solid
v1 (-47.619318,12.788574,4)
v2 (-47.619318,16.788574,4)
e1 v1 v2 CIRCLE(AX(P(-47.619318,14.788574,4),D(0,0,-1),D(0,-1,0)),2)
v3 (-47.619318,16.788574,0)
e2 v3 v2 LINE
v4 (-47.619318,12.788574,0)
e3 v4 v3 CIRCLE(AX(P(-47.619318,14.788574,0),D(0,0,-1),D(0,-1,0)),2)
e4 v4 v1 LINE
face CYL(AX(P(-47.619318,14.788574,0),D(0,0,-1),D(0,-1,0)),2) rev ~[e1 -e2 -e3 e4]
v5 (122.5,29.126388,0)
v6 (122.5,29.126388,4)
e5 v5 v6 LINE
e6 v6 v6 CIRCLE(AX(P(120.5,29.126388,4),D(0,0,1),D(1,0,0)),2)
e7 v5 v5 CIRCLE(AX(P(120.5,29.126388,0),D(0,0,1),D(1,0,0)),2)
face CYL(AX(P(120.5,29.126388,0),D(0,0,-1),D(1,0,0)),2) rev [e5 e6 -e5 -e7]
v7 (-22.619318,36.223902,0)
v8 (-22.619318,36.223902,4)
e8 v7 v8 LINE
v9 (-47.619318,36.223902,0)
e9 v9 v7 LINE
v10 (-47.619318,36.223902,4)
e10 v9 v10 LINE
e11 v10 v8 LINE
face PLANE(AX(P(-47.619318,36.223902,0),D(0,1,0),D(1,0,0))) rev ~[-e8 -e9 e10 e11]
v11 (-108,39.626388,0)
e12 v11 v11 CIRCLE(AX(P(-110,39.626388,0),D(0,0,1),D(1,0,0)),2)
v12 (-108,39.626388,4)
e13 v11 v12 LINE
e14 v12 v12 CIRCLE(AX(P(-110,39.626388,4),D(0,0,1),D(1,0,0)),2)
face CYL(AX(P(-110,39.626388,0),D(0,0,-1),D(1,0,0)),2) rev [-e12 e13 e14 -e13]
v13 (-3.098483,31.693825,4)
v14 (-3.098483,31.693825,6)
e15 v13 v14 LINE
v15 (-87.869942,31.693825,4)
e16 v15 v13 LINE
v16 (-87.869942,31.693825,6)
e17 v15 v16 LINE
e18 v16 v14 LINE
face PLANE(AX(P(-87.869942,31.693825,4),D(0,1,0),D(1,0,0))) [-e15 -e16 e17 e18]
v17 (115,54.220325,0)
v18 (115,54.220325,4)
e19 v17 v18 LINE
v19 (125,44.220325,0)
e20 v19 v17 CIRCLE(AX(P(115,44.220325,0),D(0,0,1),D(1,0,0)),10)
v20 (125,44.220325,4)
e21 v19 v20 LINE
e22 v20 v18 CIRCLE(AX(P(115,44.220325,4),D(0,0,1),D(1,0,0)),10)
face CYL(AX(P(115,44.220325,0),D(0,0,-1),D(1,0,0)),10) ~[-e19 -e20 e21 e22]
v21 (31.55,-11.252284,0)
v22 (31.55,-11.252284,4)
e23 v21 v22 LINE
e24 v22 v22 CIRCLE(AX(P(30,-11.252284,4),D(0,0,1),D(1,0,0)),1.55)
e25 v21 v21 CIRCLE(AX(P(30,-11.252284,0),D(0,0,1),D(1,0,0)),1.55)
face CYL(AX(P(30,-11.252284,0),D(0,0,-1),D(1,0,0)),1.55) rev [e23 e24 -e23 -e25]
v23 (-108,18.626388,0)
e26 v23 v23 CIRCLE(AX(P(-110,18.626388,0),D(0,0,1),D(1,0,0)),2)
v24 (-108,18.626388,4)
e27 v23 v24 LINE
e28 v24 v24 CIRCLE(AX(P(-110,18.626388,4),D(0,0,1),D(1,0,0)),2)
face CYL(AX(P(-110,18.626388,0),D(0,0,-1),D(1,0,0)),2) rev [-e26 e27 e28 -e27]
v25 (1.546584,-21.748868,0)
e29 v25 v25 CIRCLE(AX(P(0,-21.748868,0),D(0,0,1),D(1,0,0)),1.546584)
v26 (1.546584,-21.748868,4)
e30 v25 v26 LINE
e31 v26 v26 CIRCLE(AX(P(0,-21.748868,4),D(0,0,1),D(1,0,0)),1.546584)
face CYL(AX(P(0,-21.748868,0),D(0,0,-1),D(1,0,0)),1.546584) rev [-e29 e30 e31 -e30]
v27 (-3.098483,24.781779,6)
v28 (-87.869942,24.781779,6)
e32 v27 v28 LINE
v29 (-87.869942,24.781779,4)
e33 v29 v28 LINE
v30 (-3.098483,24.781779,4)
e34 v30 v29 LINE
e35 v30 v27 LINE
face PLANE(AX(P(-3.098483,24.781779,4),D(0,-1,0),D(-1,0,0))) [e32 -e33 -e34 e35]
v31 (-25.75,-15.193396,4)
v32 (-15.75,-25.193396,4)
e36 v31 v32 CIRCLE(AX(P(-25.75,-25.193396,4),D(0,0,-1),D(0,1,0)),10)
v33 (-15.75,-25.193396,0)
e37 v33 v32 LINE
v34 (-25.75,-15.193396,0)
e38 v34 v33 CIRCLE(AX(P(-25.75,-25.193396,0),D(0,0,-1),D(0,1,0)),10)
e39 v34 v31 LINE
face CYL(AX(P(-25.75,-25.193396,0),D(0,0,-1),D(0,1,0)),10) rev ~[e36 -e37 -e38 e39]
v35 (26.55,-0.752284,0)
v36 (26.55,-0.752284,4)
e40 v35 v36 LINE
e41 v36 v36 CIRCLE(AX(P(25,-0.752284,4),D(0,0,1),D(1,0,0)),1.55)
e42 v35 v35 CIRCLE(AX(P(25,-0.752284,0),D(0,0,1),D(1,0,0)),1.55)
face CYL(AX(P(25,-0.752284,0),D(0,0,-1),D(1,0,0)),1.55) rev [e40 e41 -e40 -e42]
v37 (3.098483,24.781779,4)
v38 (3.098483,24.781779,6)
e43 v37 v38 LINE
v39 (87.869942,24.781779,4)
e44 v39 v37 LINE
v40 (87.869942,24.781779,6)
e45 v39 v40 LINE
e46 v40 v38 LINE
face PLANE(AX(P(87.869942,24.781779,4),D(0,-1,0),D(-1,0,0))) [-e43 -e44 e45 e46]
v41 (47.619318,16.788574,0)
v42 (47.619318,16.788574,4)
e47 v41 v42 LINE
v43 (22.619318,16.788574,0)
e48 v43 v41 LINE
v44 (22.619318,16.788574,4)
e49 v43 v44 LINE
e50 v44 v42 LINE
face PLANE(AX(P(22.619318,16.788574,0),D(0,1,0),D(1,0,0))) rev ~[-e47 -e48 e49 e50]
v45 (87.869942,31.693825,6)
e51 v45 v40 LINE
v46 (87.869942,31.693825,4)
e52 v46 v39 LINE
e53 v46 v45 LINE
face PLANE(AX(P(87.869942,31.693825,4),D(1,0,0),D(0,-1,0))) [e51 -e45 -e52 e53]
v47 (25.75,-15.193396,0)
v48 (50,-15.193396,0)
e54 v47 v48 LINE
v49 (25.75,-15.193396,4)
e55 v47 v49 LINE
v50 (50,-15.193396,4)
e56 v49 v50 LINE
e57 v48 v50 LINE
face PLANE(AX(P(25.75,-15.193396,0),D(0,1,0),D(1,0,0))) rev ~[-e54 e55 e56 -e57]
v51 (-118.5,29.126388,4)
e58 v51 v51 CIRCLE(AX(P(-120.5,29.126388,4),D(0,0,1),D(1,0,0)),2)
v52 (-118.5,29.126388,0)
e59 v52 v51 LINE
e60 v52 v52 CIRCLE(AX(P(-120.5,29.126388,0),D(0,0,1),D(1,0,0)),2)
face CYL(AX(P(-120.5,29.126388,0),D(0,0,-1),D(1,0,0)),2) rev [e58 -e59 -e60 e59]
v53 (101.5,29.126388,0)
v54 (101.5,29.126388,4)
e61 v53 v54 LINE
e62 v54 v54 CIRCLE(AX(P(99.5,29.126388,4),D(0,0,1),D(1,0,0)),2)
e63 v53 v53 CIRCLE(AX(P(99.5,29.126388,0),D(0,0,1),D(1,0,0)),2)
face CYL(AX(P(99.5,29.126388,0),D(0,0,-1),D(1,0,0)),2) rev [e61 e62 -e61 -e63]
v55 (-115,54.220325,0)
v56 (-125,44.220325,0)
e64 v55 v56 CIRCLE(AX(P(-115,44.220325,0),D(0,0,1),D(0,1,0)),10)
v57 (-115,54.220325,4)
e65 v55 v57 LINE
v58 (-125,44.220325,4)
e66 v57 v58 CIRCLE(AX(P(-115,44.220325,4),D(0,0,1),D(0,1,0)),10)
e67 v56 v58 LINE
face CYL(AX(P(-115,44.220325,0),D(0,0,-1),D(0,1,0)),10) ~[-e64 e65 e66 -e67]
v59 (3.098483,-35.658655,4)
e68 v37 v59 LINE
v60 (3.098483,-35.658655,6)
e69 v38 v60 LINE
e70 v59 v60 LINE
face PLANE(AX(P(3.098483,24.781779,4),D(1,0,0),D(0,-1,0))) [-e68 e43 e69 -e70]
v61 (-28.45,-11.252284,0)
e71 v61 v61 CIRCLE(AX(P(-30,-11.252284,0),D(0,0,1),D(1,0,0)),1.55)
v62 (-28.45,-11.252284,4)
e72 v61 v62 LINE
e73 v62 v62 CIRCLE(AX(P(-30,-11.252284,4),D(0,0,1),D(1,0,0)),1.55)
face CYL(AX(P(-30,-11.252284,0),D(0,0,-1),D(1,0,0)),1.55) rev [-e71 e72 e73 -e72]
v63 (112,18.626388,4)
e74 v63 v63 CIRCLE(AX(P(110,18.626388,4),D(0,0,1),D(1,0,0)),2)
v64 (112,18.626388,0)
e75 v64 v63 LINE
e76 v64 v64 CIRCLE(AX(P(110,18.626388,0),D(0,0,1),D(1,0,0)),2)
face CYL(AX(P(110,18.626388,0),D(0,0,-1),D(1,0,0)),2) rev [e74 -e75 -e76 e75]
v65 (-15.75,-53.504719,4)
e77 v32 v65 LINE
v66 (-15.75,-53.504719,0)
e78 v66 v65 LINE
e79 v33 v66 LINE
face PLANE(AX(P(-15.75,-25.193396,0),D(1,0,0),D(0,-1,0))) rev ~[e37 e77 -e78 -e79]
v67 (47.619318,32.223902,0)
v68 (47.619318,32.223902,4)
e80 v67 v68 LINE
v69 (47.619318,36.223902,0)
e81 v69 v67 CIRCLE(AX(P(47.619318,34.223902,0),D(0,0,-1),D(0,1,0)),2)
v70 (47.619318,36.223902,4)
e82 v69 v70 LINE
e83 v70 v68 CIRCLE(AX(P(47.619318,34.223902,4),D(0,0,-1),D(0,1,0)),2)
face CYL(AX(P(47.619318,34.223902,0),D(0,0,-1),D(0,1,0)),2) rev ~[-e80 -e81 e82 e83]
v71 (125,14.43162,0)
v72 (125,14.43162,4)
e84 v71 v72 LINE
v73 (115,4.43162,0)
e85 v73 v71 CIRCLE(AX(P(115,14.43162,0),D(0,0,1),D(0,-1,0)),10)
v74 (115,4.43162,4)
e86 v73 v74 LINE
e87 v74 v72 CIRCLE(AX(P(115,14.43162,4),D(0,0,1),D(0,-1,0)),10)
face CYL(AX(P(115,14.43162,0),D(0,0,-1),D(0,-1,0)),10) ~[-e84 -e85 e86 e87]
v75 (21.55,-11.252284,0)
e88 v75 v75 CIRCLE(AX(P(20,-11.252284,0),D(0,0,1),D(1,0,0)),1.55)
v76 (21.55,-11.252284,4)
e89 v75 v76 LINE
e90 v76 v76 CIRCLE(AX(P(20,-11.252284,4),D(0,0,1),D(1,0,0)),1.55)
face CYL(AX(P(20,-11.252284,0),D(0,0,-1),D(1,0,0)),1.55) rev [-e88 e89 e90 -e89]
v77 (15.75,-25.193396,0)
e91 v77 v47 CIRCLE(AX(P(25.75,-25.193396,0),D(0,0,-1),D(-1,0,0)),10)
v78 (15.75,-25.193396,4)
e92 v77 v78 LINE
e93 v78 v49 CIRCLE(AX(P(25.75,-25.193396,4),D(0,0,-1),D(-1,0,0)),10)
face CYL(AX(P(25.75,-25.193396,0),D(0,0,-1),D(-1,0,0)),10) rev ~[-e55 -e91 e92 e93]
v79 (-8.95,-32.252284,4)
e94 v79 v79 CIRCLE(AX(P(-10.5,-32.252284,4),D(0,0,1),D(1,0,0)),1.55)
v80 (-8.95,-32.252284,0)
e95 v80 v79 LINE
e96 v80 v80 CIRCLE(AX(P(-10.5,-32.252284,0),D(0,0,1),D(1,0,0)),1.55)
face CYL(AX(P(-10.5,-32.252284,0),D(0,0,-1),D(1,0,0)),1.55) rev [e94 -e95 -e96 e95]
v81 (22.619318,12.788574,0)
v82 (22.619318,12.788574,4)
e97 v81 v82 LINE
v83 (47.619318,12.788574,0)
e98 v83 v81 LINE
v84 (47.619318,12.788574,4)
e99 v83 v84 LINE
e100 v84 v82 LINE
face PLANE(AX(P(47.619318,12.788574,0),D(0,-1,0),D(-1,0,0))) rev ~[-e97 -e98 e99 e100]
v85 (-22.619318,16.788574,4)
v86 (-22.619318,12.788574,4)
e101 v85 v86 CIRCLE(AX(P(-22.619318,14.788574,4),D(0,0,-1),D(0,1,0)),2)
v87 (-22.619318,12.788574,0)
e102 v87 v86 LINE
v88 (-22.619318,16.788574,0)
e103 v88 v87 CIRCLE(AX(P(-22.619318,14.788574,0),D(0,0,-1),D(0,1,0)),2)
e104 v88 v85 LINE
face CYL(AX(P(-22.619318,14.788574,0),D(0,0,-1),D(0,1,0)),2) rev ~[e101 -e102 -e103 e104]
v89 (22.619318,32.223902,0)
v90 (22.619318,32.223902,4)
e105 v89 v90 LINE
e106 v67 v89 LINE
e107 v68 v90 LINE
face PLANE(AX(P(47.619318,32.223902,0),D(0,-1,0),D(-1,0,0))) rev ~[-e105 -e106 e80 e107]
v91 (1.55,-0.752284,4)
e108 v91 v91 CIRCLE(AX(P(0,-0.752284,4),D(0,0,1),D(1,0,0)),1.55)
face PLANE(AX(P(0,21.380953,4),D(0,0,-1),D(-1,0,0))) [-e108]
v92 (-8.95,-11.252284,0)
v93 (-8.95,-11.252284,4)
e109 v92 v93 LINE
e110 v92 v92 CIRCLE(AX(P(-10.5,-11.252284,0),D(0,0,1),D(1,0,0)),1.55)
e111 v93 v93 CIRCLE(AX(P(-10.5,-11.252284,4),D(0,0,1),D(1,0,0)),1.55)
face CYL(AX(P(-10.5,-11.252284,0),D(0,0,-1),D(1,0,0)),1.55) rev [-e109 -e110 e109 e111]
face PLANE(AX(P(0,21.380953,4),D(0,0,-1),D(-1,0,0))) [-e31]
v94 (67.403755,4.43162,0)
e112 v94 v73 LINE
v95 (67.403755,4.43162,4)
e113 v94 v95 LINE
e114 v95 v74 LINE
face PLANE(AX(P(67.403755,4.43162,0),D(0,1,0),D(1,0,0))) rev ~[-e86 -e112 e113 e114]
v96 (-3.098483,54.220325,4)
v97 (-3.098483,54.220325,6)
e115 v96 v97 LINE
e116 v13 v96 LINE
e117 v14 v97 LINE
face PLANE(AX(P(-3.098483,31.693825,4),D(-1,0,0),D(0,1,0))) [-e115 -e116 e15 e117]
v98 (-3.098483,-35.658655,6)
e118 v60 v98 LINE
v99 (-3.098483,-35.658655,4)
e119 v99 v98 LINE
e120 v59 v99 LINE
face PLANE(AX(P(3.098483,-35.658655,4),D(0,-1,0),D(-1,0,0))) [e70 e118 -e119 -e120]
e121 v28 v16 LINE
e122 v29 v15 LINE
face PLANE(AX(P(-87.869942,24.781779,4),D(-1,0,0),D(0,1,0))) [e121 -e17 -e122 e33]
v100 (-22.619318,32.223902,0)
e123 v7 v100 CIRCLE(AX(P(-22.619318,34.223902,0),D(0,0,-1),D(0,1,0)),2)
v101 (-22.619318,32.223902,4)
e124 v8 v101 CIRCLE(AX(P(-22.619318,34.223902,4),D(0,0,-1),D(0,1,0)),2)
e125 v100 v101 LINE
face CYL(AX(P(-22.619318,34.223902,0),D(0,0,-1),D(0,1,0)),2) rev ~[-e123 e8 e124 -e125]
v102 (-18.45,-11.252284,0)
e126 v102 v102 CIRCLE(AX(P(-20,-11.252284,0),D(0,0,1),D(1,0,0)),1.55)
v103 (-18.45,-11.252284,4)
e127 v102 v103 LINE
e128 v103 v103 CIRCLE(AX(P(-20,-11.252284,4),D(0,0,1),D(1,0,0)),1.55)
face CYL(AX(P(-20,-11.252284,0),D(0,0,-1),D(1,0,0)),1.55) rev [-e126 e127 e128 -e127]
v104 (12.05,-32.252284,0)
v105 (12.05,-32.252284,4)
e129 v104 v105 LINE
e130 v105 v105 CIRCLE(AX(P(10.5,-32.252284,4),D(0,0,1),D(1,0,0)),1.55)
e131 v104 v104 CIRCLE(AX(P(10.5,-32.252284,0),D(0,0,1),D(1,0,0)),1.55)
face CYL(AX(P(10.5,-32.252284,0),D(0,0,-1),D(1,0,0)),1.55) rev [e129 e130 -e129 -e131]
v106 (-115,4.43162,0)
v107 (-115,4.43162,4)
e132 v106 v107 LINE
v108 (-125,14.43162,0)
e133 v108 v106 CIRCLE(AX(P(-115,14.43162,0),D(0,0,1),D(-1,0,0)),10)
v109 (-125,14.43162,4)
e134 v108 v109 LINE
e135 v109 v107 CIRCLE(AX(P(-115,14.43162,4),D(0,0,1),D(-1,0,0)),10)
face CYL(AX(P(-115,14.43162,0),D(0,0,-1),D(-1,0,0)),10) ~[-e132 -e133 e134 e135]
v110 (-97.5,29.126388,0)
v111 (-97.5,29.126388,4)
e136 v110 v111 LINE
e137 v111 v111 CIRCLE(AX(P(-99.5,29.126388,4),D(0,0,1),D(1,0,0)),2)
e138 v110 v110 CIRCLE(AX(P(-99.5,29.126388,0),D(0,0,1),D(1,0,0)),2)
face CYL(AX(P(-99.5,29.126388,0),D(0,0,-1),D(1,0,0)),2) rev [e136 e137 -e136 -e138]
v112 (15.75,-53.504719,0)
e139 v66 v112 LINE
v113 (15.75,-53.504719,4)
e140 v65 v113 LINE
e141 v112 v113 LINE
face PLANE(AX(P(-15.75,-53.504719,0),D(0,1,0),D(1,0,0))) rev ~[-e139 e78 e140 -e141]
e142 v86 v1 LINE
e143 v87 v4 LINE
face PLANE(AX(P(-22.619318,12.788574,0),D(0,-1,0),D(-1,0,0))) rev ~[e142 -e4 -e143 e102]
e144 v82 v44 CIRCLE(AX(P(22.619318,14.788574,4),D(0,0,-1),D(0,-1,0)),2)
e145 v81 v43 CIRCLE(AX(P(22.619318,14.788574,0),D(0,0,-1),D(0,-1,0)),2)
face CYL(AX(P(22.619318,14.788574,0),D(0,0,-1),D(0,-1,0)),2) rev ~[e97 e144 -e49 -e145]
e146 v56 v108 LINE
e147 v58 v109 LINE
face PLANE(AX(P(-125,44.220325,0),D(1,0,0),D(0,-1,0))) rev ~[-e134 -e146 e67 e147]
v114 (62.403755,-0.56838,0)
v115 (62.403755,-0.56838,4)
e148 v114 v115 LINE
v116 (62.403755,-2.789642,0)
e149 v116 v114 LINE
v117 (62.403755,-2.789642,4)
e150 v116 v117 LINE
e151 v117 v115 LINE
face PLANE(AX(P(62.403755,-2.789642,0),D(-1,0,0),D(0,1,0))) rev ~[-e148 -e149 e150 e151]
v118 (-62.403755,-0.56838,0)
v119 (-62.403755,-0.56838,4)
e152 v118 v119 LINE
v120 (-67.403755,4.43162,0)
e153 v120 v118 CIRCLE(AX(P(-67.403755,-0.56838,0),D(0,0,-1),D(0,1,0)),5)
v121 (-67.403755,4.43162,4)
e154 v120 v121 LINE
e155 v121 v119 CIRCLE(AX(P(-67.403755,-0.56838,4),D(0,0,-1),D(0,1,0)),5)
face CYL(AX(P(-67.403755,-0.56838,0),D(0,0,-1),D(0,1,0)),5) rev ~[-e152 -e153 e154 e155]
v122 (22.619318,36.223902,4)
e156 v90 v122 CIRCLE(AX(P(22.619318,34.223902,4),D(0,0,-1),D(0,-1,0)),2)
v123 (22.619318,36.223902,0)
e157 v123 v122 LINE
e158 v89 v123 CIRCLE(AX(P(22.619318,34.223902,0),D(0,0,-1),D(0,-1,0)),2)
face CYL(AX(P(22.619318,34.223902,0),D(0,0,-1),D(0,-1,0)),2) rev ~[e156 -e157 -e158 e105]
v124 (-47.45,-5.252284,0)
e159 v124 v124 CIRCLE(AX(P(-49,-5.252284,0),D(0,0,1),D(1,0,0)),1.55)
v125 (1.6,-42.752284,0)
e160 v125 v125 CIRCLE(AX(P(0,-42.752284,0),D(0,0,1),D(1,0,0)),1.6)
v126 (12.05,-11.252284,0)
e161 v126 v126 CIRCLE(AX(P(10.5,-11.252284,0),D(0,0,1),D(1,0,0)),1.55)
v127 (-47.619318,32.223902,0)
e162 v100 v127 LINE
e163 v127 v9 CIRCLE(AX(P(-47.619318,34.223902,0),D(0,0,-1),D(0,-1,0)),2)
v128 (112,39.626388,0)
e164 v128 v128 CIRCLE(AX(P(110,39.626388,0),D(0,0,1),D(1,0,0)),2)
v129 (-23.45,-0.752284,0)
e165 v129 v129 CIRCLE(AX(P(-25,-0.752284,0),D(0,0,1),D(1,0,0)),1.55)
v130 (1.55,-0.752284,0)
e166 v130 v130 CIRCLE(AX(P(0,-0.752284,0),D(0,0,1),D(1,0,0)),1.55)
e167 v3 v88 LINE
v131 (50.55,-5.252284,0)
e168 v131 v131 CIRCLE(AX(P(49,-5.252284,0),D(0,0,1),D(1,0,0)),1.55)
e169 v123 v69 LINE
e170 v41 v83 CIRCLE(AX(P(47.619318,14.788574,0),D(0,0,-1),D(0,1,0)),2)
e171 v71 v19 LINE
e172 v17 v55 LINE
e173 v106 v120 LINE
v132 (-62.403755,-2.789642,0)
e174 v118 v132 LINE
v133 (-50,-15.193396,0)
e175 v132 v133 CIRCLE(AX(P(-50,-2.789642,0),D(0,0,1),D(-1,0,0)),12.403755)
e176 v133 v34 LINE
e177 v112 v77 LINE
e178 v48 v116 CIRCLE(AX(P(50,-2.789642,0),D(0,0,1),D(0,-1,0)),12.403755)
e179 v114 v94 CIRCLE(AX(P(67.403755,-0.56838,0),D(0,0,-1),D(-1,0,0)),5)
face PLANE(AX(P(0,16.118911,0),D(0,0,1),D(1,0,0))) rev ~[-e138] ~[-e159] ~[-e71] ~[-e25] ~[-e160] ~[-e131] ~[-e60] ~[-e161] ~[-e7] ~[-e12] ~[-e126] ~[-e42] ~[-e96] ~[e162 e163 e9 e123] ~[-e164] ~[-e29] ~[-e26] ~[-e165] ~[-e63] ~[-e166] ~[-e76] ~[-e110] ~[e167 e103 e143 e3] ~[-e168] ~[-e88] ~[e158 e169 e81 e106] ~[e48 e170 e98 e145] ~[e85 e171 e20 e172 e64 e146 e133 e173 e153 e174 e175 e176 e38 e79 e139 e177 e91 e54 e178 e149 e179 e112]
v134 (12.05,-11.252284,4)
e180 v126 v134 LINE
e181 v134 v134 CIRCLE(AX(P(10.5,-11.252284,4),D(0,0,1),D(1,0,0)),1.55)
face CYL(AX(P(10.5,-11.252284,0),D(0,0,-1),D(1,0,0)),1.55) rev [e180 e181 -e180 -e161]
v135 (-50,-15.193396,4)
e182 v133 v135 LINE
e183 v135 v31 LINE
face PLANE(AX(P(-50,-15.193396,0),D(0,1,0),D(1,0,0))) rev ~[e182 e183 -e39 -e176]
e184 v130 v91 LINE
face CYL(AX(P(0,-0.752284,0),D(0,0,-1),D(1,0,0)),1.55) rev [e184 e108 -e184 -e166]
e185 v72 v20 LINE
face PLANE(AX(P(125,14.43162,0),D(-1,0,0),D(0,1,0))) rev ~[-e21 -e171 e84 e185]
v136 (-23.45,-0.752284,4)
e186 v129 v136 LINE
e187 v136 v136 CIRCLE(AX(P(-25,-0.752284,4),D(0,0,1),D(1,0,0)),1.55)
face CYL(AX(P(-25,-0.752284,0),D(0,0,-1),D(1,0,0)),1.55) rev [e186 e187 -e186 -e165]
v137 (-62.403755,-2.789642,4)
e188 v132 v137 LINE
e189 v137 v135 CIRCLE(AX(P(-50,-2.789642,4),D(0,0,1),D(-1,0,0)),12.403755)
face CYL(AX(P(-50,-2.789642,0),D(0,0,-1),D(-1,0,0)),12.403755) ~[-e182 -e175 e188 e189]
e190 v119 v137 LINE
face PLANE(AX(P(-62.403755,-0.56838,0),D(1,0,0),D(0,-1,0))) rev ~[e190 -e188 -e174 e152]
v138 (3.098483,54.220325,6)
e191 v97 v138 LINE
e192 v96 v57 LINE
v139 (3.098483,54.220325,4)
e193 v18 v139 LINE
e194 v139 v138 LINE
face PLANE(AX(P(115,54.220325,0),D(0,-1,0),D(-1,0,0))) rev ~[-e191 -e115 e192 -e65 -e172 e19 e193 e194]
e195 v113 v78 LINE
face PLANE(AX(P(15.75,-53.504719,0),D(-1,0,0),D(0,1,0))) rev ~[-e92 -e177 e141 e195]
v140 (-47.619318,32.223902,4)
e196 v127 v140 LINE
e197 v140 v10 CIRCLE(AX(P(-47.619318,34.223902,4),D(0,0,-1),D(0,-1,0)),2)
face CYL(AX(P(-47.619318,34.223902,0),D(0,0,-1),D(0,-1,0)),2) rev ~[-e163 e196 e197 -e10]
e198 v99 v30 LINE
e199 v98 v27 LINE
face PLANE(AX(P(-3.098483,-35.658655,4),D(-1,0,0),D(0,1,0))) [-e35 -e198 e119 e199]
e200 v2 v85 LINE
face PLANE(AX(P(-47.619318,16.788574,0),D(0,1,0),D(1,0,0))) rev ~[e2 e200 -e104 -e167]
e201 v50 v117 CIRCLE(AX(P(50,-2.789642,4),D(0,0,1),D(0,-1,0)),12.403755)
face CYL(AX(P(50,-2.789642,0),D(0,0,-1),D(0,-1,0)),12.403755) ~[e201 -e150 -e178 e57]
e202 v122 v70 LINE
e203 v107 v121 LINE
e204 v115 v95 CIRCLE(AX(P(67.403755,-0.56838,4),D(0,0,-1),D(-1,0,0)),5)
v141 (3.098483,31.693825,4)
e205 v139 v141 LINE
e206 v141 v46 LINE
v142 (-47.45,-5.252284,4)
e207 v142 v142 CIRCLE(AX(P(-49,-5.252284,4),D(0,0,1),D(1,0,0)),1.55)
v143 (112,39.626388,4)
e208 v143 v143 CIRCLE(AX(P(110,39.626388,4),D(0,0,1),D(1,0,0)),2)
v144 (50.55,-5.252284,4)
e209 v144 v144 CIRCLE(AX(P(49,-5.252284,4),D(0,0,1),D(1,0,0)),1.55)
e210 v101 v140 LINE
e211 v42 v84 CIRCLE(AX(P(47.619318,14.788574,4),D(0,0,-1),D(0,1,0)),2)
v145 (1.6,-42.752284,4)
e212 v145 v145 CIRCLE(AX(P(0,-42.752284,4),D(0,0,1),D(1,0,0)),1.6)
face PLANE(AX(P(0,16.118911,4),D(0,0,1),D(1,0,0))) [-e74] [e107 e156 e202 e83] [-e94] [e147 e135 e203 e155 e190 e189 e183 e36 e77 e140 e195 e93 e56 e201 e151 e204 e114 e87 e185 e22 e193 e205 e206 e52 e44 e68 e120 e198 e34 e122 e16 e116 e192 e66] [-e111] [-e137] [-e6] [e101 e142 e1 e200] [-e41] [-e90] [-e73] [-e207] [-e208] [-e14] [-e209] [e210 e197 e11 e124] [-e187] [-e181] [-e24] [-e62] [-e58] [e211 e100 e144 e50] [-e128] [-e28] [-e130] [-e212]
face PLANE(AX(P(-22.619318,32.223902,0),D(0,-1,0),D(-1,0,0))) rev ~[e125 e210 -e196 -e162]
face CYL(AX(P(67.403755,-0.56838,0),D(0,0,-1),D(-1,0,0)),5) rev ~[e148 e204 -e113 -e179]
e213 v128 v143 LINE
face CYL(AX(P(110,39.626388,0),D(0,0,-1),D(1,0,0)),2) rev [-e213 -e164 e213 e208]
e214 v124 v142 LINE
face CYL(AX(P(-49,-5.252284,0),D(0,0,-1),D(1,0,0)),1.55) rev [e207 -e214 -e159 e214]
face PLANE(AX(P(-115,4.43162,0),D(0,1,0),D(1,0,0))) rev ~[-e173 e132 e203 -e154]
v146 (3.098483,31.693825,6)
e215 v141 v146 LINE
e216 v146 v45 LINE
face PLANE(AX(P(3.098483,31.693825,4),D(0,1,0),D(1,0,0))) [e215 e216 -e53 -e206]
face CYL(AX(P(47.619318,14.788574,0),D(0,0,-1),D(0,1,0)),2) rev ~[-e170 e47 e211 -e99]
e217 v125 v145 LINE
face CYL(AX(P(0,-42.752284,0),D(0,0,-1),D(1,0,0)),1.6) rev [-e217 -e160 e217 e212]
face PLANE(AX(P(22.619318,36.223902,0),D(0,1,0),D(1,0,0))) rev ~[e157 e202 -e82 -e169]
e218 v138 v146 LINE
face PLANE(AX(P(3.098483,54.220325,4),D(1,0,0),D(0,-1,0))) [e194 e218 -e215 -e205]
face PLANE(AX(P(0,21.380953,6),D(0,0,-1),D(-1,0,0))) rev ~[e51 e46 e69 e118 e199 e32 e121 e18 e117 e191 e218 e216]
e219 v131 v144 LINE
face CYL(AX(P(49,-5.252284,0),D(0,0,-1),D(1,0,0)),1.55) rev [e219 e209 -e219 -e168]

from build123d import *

# Parameters (mm, degrees)
SKETCH_1_R      = 1.55
SKETCH_1_R_2    = 1.6
SKETCH_1_R_3    = 1.546583653
SKETCH_1_R_4    = 2
EXTRUDE_1_DEPTH = 4
EXTRUDE_2_DEPTH = 2


with BuildPart() as part:
    # 草图1 → 凸台-拉伸1 (new body)
    with BuildSketch(Plane.XY):
        with BuildLine():
            Line((-93.257786629, 4.43161967), (-67.403754616, 4.43161967))
            ThreePointArc((-67.403754616, 4.43161967), (-63.86822071, 2.967153575), (-62.403754616, -0.56838033))
            Line((-62.403754616, -0.56838033), (-62.403754616, -2.789641507))
            ThreePointArc((-62.403754616, -2.789641507), (-58.770779001, -11.560420508), (-50, -15.193396123))
            Line((-50, -15.193396123), (-25.75, -15.193396123))
            ThreePointArc((-25.75, -15.193396123), (-18.678932188, -18.122328311), (-15.75, -25.193396123))
            Line((-15.75, -25.193396123), (-15.75, -53.504719017))
            Line((-15.75, -53.504719017), (15.75, -53.504719017))
            Line((15.75, -53.504719017), (15.75, -25.193396123))
            ThreePointArc((15.75, -25.193396123), (18.678932188, -18.122328311), (25.75, -15.193396123))
            Line((25.75, -15.193396123), (50, -15.193396123))
            ThreePointArc((50, -15.193396123), (58.770779001, -11.560420508), (62.403754616, -2.789641507))
            Line((62.403754616, -2.789641507), (62.403754616, -0.56838033))
            ThreePointArc((62.403754616, -0.56838033), (63.86822071, 2.967153575), (67.403754616, 4.43161967))
            Line((67.403754616, 4.43161967), (93.257786629, 4.43161967))
            Line((93.257786629, 4.43161967), (115, 4.43161967))
            ThreePointArc((115, 4.43161967), (122.071067812, 7.360551858), (125, 14.43161967))
            Line((125, 14.43161967), (125, 44.220324858))
            ThreePointArc((125, 44.220324858), (122.071067812, 51.29139267), (115, 54.220324858))
            Line((115, 54.220324858), (95.550812853, 54.220324858))
            Line((95.550812853, 54.220324858), (-95.550812853, 54.220324858))
            Line((-95.550812853, 54.220324858), (-115, 54.220324858))
            ThreePointArc((-115, 54.220324858), (-122.071067812, 51.29139267), (-125, 44.220324858))
            Line((-125, 44.220324858), (-125, 14.43161967))
            ThreePointArc((-125, 14.43161967), (-122.071067812, 7.360551858), (-115, 4.43161967))
            Line((-115, 4.43161967), (-93.257786629, 4.43161967))
        make_face()
        with Locations((-10.5, -32.252284296)):
            Circle(SKETCH_1_R, mode=Mode.SUBTRACT)
        with Locations((-49, -5.252284296)):
            Circle(SKETCH_1_R, mode=Mode.SUBTRACT)
        with Locations((-30, -11.252284296)):
            Circle(SKETCH_1_R, mode=Mode.SUBTRACT)
        with Locations((-20, -11.252284296)):
            Circle(SKETCH_1_R, mode=Mode.SUBTRACT)
        with Locations((-10.5, -11.252284296)):
            Circle(SKETCH_1_R, mode=Mode.SUBTRACT)
        with Locations((-25, -0.752284296)):
            Circle(SKETCH_1_R, mode=Mode.SUBTRACT)
        with Locations((0, -42.752284296)):
            Circle(SKETCH_1_R_2, mode=Mode.SUBTRACT)
        with Locations((10.5, -32.252284296)):
            Circle(SKETCH_1_R, mode=Mode.SUBTRACT)
        with Locations((0, -21.748867949)):
            Circle(SKETCH_1_R_3, mode=Mode.SUBTRACT)
        with Locations((10.5, -11.252284296)):
            Circle(SKETCH_1_R, mode=Mode.SUBTRACT)
        with Locations((20, -11.252284296)):
            Circle(SKETCH_1_R, mode=Mode.SUBTRACT)
        with Locations((30, -11.252284296)):
            Circle(SKETCH_1_R, mode=Mode.SUBTRACT)
        with Locations((0, -0.752284296)):
            Circle(SKETCH_1_R, mode=Mode.SUBTRACT)
        with Locations((25, -0.752284296)):
            Circle(SKETCH_1_R, mode=Mode.SUBTRACT)
        with Locations((49, -5.252284296)):
            Circle(SKETCH_1_R, mode=Mode.SUBTRACT)
        with Locations((-110, 18.626388225)):
            Circle(SKETCH_1_R_4, mode=Mode.SUBTRACT)
        with BuildLine():
            ThreePointArc((-47.619318323, 12.788573549), (-49.619318323, 14.788573549), (-47.619318323, 16.788573549))
            Line((-47.619318323, 16.788573549), (-22.619318323, 16.788573549))
            ThreePointArc((-22.619318323, 16.788573549), (-20.619318323, 14.788573549), (-22.619318323, 12.788573549))
            Line((-22.619318323, 12.788573549), (-47.619318323, 12.788573549))
        make_face(mode=Mode.SUBTRACT)
        with Locations((-120.5, 29.126388225)):
            Circle(SKETCH_1_R_4, mode=Mode.SUBTRACT)
        with Locations((-99.5, 29.126388225)):
            Circle(SKETCH_1_R_4, mode=Mode.SUBTRACT)
        with Locations((-110, 39.626388225)):
            Circle(SKETCH_1_R_4, mode=Mode.SUBTRACT)
        with BuildLine():
            ThreePointArc((-47.619318323, 32.223901574), (-49.619318323, 34.223901574), (-47.619318323, 36.223901574))
            Line((-47.619318323, 36.223901574), (-22.619318323, 36.223901574))
            ThreePointArc((-22.619318323, 36.223901574), (-20.619318323, 34.223901574), (-22.619318323, 32.223901574))
            Line((-22.619318323, 32.223901574), (-47.619318323, 32.223901574))
        make_face(mode=Mode.SUBTRACT)
        with BuildLine():
            Line((22.619318323, 16.788573549), (47.619318323, 16.788573549))
            ThreePointArc((47.619318323, 16.788573549), (49.619318323, 14.788573549), (47.619318323, 12.788573549))
            Line((47.619318323, 12.788573549), (22.619318323, 12.788573549))
            ThreePointArc((22.619318323, 12.788573549), (20.619318323, 14.788573549), (22.619318323, 16.788573549))
        make_face(mode=Mode.SUBTRACT)
        with Locations((110, 18.626388225)):
            Circle(SKETCH_1_R_4, mode=Mode.SUBTRACT)
        with BuildLine():
            Line((22.619318323, 36.223901574), (47.619318323, 36.223901574))
            ThreePointArc((47.619318323, 36.223901574), (49.619318323, 34.223901574), (47.619318323, 32.223901574))
            Line((47.619318323, 32.223901574), (22.619318323, 32.223901574))
            ThreePointArc((22.619318323, 32.223901574), (20.619318323, 34.223901574), (22.619318323, 36.223901574))
        make_face(mode=Mode.SUBTRACT)
        with Locations((99.5, 29.126388225)):
            Circle(SKETCH_1_R_4, mode=Mode.SUBTRACT)
        with Locations((120.5, 29.126388225)):
            Circle(SKETCH_1_R_4, mode=Mode.SUBTRACT)
        with Locations((110, 39.626388225)):
            Circle(SKETCH_1_R_4, mode=Mode.SUBTRACT)
    extrude(amount=EXTRUDE_1_DEPTH)

    # 草图2 → 凸台-拉伸2 (add)
    with BuildSketch(Plane.XY.offset(4)):
        Polygon((3.098482938, -35.658654768), (-3.098482938, -35.658654768), (-3.098482938, 24.781778974), (-87.869942148, 24.781778974), (-87.869942148, 31.693824975), (-3.098482938, 31.693824975), (-3.098482938, 54.220324858), (3.098482938, 54.220324858), (3.098482938, 31.693824975), (87.869942148, 31.693824975), (87.869942148, 24.781778974), (3.098482938, 24.781778974), align=None)
    extrude(amount=EXTRUDE_2_DEPTH)


solid = part.part
